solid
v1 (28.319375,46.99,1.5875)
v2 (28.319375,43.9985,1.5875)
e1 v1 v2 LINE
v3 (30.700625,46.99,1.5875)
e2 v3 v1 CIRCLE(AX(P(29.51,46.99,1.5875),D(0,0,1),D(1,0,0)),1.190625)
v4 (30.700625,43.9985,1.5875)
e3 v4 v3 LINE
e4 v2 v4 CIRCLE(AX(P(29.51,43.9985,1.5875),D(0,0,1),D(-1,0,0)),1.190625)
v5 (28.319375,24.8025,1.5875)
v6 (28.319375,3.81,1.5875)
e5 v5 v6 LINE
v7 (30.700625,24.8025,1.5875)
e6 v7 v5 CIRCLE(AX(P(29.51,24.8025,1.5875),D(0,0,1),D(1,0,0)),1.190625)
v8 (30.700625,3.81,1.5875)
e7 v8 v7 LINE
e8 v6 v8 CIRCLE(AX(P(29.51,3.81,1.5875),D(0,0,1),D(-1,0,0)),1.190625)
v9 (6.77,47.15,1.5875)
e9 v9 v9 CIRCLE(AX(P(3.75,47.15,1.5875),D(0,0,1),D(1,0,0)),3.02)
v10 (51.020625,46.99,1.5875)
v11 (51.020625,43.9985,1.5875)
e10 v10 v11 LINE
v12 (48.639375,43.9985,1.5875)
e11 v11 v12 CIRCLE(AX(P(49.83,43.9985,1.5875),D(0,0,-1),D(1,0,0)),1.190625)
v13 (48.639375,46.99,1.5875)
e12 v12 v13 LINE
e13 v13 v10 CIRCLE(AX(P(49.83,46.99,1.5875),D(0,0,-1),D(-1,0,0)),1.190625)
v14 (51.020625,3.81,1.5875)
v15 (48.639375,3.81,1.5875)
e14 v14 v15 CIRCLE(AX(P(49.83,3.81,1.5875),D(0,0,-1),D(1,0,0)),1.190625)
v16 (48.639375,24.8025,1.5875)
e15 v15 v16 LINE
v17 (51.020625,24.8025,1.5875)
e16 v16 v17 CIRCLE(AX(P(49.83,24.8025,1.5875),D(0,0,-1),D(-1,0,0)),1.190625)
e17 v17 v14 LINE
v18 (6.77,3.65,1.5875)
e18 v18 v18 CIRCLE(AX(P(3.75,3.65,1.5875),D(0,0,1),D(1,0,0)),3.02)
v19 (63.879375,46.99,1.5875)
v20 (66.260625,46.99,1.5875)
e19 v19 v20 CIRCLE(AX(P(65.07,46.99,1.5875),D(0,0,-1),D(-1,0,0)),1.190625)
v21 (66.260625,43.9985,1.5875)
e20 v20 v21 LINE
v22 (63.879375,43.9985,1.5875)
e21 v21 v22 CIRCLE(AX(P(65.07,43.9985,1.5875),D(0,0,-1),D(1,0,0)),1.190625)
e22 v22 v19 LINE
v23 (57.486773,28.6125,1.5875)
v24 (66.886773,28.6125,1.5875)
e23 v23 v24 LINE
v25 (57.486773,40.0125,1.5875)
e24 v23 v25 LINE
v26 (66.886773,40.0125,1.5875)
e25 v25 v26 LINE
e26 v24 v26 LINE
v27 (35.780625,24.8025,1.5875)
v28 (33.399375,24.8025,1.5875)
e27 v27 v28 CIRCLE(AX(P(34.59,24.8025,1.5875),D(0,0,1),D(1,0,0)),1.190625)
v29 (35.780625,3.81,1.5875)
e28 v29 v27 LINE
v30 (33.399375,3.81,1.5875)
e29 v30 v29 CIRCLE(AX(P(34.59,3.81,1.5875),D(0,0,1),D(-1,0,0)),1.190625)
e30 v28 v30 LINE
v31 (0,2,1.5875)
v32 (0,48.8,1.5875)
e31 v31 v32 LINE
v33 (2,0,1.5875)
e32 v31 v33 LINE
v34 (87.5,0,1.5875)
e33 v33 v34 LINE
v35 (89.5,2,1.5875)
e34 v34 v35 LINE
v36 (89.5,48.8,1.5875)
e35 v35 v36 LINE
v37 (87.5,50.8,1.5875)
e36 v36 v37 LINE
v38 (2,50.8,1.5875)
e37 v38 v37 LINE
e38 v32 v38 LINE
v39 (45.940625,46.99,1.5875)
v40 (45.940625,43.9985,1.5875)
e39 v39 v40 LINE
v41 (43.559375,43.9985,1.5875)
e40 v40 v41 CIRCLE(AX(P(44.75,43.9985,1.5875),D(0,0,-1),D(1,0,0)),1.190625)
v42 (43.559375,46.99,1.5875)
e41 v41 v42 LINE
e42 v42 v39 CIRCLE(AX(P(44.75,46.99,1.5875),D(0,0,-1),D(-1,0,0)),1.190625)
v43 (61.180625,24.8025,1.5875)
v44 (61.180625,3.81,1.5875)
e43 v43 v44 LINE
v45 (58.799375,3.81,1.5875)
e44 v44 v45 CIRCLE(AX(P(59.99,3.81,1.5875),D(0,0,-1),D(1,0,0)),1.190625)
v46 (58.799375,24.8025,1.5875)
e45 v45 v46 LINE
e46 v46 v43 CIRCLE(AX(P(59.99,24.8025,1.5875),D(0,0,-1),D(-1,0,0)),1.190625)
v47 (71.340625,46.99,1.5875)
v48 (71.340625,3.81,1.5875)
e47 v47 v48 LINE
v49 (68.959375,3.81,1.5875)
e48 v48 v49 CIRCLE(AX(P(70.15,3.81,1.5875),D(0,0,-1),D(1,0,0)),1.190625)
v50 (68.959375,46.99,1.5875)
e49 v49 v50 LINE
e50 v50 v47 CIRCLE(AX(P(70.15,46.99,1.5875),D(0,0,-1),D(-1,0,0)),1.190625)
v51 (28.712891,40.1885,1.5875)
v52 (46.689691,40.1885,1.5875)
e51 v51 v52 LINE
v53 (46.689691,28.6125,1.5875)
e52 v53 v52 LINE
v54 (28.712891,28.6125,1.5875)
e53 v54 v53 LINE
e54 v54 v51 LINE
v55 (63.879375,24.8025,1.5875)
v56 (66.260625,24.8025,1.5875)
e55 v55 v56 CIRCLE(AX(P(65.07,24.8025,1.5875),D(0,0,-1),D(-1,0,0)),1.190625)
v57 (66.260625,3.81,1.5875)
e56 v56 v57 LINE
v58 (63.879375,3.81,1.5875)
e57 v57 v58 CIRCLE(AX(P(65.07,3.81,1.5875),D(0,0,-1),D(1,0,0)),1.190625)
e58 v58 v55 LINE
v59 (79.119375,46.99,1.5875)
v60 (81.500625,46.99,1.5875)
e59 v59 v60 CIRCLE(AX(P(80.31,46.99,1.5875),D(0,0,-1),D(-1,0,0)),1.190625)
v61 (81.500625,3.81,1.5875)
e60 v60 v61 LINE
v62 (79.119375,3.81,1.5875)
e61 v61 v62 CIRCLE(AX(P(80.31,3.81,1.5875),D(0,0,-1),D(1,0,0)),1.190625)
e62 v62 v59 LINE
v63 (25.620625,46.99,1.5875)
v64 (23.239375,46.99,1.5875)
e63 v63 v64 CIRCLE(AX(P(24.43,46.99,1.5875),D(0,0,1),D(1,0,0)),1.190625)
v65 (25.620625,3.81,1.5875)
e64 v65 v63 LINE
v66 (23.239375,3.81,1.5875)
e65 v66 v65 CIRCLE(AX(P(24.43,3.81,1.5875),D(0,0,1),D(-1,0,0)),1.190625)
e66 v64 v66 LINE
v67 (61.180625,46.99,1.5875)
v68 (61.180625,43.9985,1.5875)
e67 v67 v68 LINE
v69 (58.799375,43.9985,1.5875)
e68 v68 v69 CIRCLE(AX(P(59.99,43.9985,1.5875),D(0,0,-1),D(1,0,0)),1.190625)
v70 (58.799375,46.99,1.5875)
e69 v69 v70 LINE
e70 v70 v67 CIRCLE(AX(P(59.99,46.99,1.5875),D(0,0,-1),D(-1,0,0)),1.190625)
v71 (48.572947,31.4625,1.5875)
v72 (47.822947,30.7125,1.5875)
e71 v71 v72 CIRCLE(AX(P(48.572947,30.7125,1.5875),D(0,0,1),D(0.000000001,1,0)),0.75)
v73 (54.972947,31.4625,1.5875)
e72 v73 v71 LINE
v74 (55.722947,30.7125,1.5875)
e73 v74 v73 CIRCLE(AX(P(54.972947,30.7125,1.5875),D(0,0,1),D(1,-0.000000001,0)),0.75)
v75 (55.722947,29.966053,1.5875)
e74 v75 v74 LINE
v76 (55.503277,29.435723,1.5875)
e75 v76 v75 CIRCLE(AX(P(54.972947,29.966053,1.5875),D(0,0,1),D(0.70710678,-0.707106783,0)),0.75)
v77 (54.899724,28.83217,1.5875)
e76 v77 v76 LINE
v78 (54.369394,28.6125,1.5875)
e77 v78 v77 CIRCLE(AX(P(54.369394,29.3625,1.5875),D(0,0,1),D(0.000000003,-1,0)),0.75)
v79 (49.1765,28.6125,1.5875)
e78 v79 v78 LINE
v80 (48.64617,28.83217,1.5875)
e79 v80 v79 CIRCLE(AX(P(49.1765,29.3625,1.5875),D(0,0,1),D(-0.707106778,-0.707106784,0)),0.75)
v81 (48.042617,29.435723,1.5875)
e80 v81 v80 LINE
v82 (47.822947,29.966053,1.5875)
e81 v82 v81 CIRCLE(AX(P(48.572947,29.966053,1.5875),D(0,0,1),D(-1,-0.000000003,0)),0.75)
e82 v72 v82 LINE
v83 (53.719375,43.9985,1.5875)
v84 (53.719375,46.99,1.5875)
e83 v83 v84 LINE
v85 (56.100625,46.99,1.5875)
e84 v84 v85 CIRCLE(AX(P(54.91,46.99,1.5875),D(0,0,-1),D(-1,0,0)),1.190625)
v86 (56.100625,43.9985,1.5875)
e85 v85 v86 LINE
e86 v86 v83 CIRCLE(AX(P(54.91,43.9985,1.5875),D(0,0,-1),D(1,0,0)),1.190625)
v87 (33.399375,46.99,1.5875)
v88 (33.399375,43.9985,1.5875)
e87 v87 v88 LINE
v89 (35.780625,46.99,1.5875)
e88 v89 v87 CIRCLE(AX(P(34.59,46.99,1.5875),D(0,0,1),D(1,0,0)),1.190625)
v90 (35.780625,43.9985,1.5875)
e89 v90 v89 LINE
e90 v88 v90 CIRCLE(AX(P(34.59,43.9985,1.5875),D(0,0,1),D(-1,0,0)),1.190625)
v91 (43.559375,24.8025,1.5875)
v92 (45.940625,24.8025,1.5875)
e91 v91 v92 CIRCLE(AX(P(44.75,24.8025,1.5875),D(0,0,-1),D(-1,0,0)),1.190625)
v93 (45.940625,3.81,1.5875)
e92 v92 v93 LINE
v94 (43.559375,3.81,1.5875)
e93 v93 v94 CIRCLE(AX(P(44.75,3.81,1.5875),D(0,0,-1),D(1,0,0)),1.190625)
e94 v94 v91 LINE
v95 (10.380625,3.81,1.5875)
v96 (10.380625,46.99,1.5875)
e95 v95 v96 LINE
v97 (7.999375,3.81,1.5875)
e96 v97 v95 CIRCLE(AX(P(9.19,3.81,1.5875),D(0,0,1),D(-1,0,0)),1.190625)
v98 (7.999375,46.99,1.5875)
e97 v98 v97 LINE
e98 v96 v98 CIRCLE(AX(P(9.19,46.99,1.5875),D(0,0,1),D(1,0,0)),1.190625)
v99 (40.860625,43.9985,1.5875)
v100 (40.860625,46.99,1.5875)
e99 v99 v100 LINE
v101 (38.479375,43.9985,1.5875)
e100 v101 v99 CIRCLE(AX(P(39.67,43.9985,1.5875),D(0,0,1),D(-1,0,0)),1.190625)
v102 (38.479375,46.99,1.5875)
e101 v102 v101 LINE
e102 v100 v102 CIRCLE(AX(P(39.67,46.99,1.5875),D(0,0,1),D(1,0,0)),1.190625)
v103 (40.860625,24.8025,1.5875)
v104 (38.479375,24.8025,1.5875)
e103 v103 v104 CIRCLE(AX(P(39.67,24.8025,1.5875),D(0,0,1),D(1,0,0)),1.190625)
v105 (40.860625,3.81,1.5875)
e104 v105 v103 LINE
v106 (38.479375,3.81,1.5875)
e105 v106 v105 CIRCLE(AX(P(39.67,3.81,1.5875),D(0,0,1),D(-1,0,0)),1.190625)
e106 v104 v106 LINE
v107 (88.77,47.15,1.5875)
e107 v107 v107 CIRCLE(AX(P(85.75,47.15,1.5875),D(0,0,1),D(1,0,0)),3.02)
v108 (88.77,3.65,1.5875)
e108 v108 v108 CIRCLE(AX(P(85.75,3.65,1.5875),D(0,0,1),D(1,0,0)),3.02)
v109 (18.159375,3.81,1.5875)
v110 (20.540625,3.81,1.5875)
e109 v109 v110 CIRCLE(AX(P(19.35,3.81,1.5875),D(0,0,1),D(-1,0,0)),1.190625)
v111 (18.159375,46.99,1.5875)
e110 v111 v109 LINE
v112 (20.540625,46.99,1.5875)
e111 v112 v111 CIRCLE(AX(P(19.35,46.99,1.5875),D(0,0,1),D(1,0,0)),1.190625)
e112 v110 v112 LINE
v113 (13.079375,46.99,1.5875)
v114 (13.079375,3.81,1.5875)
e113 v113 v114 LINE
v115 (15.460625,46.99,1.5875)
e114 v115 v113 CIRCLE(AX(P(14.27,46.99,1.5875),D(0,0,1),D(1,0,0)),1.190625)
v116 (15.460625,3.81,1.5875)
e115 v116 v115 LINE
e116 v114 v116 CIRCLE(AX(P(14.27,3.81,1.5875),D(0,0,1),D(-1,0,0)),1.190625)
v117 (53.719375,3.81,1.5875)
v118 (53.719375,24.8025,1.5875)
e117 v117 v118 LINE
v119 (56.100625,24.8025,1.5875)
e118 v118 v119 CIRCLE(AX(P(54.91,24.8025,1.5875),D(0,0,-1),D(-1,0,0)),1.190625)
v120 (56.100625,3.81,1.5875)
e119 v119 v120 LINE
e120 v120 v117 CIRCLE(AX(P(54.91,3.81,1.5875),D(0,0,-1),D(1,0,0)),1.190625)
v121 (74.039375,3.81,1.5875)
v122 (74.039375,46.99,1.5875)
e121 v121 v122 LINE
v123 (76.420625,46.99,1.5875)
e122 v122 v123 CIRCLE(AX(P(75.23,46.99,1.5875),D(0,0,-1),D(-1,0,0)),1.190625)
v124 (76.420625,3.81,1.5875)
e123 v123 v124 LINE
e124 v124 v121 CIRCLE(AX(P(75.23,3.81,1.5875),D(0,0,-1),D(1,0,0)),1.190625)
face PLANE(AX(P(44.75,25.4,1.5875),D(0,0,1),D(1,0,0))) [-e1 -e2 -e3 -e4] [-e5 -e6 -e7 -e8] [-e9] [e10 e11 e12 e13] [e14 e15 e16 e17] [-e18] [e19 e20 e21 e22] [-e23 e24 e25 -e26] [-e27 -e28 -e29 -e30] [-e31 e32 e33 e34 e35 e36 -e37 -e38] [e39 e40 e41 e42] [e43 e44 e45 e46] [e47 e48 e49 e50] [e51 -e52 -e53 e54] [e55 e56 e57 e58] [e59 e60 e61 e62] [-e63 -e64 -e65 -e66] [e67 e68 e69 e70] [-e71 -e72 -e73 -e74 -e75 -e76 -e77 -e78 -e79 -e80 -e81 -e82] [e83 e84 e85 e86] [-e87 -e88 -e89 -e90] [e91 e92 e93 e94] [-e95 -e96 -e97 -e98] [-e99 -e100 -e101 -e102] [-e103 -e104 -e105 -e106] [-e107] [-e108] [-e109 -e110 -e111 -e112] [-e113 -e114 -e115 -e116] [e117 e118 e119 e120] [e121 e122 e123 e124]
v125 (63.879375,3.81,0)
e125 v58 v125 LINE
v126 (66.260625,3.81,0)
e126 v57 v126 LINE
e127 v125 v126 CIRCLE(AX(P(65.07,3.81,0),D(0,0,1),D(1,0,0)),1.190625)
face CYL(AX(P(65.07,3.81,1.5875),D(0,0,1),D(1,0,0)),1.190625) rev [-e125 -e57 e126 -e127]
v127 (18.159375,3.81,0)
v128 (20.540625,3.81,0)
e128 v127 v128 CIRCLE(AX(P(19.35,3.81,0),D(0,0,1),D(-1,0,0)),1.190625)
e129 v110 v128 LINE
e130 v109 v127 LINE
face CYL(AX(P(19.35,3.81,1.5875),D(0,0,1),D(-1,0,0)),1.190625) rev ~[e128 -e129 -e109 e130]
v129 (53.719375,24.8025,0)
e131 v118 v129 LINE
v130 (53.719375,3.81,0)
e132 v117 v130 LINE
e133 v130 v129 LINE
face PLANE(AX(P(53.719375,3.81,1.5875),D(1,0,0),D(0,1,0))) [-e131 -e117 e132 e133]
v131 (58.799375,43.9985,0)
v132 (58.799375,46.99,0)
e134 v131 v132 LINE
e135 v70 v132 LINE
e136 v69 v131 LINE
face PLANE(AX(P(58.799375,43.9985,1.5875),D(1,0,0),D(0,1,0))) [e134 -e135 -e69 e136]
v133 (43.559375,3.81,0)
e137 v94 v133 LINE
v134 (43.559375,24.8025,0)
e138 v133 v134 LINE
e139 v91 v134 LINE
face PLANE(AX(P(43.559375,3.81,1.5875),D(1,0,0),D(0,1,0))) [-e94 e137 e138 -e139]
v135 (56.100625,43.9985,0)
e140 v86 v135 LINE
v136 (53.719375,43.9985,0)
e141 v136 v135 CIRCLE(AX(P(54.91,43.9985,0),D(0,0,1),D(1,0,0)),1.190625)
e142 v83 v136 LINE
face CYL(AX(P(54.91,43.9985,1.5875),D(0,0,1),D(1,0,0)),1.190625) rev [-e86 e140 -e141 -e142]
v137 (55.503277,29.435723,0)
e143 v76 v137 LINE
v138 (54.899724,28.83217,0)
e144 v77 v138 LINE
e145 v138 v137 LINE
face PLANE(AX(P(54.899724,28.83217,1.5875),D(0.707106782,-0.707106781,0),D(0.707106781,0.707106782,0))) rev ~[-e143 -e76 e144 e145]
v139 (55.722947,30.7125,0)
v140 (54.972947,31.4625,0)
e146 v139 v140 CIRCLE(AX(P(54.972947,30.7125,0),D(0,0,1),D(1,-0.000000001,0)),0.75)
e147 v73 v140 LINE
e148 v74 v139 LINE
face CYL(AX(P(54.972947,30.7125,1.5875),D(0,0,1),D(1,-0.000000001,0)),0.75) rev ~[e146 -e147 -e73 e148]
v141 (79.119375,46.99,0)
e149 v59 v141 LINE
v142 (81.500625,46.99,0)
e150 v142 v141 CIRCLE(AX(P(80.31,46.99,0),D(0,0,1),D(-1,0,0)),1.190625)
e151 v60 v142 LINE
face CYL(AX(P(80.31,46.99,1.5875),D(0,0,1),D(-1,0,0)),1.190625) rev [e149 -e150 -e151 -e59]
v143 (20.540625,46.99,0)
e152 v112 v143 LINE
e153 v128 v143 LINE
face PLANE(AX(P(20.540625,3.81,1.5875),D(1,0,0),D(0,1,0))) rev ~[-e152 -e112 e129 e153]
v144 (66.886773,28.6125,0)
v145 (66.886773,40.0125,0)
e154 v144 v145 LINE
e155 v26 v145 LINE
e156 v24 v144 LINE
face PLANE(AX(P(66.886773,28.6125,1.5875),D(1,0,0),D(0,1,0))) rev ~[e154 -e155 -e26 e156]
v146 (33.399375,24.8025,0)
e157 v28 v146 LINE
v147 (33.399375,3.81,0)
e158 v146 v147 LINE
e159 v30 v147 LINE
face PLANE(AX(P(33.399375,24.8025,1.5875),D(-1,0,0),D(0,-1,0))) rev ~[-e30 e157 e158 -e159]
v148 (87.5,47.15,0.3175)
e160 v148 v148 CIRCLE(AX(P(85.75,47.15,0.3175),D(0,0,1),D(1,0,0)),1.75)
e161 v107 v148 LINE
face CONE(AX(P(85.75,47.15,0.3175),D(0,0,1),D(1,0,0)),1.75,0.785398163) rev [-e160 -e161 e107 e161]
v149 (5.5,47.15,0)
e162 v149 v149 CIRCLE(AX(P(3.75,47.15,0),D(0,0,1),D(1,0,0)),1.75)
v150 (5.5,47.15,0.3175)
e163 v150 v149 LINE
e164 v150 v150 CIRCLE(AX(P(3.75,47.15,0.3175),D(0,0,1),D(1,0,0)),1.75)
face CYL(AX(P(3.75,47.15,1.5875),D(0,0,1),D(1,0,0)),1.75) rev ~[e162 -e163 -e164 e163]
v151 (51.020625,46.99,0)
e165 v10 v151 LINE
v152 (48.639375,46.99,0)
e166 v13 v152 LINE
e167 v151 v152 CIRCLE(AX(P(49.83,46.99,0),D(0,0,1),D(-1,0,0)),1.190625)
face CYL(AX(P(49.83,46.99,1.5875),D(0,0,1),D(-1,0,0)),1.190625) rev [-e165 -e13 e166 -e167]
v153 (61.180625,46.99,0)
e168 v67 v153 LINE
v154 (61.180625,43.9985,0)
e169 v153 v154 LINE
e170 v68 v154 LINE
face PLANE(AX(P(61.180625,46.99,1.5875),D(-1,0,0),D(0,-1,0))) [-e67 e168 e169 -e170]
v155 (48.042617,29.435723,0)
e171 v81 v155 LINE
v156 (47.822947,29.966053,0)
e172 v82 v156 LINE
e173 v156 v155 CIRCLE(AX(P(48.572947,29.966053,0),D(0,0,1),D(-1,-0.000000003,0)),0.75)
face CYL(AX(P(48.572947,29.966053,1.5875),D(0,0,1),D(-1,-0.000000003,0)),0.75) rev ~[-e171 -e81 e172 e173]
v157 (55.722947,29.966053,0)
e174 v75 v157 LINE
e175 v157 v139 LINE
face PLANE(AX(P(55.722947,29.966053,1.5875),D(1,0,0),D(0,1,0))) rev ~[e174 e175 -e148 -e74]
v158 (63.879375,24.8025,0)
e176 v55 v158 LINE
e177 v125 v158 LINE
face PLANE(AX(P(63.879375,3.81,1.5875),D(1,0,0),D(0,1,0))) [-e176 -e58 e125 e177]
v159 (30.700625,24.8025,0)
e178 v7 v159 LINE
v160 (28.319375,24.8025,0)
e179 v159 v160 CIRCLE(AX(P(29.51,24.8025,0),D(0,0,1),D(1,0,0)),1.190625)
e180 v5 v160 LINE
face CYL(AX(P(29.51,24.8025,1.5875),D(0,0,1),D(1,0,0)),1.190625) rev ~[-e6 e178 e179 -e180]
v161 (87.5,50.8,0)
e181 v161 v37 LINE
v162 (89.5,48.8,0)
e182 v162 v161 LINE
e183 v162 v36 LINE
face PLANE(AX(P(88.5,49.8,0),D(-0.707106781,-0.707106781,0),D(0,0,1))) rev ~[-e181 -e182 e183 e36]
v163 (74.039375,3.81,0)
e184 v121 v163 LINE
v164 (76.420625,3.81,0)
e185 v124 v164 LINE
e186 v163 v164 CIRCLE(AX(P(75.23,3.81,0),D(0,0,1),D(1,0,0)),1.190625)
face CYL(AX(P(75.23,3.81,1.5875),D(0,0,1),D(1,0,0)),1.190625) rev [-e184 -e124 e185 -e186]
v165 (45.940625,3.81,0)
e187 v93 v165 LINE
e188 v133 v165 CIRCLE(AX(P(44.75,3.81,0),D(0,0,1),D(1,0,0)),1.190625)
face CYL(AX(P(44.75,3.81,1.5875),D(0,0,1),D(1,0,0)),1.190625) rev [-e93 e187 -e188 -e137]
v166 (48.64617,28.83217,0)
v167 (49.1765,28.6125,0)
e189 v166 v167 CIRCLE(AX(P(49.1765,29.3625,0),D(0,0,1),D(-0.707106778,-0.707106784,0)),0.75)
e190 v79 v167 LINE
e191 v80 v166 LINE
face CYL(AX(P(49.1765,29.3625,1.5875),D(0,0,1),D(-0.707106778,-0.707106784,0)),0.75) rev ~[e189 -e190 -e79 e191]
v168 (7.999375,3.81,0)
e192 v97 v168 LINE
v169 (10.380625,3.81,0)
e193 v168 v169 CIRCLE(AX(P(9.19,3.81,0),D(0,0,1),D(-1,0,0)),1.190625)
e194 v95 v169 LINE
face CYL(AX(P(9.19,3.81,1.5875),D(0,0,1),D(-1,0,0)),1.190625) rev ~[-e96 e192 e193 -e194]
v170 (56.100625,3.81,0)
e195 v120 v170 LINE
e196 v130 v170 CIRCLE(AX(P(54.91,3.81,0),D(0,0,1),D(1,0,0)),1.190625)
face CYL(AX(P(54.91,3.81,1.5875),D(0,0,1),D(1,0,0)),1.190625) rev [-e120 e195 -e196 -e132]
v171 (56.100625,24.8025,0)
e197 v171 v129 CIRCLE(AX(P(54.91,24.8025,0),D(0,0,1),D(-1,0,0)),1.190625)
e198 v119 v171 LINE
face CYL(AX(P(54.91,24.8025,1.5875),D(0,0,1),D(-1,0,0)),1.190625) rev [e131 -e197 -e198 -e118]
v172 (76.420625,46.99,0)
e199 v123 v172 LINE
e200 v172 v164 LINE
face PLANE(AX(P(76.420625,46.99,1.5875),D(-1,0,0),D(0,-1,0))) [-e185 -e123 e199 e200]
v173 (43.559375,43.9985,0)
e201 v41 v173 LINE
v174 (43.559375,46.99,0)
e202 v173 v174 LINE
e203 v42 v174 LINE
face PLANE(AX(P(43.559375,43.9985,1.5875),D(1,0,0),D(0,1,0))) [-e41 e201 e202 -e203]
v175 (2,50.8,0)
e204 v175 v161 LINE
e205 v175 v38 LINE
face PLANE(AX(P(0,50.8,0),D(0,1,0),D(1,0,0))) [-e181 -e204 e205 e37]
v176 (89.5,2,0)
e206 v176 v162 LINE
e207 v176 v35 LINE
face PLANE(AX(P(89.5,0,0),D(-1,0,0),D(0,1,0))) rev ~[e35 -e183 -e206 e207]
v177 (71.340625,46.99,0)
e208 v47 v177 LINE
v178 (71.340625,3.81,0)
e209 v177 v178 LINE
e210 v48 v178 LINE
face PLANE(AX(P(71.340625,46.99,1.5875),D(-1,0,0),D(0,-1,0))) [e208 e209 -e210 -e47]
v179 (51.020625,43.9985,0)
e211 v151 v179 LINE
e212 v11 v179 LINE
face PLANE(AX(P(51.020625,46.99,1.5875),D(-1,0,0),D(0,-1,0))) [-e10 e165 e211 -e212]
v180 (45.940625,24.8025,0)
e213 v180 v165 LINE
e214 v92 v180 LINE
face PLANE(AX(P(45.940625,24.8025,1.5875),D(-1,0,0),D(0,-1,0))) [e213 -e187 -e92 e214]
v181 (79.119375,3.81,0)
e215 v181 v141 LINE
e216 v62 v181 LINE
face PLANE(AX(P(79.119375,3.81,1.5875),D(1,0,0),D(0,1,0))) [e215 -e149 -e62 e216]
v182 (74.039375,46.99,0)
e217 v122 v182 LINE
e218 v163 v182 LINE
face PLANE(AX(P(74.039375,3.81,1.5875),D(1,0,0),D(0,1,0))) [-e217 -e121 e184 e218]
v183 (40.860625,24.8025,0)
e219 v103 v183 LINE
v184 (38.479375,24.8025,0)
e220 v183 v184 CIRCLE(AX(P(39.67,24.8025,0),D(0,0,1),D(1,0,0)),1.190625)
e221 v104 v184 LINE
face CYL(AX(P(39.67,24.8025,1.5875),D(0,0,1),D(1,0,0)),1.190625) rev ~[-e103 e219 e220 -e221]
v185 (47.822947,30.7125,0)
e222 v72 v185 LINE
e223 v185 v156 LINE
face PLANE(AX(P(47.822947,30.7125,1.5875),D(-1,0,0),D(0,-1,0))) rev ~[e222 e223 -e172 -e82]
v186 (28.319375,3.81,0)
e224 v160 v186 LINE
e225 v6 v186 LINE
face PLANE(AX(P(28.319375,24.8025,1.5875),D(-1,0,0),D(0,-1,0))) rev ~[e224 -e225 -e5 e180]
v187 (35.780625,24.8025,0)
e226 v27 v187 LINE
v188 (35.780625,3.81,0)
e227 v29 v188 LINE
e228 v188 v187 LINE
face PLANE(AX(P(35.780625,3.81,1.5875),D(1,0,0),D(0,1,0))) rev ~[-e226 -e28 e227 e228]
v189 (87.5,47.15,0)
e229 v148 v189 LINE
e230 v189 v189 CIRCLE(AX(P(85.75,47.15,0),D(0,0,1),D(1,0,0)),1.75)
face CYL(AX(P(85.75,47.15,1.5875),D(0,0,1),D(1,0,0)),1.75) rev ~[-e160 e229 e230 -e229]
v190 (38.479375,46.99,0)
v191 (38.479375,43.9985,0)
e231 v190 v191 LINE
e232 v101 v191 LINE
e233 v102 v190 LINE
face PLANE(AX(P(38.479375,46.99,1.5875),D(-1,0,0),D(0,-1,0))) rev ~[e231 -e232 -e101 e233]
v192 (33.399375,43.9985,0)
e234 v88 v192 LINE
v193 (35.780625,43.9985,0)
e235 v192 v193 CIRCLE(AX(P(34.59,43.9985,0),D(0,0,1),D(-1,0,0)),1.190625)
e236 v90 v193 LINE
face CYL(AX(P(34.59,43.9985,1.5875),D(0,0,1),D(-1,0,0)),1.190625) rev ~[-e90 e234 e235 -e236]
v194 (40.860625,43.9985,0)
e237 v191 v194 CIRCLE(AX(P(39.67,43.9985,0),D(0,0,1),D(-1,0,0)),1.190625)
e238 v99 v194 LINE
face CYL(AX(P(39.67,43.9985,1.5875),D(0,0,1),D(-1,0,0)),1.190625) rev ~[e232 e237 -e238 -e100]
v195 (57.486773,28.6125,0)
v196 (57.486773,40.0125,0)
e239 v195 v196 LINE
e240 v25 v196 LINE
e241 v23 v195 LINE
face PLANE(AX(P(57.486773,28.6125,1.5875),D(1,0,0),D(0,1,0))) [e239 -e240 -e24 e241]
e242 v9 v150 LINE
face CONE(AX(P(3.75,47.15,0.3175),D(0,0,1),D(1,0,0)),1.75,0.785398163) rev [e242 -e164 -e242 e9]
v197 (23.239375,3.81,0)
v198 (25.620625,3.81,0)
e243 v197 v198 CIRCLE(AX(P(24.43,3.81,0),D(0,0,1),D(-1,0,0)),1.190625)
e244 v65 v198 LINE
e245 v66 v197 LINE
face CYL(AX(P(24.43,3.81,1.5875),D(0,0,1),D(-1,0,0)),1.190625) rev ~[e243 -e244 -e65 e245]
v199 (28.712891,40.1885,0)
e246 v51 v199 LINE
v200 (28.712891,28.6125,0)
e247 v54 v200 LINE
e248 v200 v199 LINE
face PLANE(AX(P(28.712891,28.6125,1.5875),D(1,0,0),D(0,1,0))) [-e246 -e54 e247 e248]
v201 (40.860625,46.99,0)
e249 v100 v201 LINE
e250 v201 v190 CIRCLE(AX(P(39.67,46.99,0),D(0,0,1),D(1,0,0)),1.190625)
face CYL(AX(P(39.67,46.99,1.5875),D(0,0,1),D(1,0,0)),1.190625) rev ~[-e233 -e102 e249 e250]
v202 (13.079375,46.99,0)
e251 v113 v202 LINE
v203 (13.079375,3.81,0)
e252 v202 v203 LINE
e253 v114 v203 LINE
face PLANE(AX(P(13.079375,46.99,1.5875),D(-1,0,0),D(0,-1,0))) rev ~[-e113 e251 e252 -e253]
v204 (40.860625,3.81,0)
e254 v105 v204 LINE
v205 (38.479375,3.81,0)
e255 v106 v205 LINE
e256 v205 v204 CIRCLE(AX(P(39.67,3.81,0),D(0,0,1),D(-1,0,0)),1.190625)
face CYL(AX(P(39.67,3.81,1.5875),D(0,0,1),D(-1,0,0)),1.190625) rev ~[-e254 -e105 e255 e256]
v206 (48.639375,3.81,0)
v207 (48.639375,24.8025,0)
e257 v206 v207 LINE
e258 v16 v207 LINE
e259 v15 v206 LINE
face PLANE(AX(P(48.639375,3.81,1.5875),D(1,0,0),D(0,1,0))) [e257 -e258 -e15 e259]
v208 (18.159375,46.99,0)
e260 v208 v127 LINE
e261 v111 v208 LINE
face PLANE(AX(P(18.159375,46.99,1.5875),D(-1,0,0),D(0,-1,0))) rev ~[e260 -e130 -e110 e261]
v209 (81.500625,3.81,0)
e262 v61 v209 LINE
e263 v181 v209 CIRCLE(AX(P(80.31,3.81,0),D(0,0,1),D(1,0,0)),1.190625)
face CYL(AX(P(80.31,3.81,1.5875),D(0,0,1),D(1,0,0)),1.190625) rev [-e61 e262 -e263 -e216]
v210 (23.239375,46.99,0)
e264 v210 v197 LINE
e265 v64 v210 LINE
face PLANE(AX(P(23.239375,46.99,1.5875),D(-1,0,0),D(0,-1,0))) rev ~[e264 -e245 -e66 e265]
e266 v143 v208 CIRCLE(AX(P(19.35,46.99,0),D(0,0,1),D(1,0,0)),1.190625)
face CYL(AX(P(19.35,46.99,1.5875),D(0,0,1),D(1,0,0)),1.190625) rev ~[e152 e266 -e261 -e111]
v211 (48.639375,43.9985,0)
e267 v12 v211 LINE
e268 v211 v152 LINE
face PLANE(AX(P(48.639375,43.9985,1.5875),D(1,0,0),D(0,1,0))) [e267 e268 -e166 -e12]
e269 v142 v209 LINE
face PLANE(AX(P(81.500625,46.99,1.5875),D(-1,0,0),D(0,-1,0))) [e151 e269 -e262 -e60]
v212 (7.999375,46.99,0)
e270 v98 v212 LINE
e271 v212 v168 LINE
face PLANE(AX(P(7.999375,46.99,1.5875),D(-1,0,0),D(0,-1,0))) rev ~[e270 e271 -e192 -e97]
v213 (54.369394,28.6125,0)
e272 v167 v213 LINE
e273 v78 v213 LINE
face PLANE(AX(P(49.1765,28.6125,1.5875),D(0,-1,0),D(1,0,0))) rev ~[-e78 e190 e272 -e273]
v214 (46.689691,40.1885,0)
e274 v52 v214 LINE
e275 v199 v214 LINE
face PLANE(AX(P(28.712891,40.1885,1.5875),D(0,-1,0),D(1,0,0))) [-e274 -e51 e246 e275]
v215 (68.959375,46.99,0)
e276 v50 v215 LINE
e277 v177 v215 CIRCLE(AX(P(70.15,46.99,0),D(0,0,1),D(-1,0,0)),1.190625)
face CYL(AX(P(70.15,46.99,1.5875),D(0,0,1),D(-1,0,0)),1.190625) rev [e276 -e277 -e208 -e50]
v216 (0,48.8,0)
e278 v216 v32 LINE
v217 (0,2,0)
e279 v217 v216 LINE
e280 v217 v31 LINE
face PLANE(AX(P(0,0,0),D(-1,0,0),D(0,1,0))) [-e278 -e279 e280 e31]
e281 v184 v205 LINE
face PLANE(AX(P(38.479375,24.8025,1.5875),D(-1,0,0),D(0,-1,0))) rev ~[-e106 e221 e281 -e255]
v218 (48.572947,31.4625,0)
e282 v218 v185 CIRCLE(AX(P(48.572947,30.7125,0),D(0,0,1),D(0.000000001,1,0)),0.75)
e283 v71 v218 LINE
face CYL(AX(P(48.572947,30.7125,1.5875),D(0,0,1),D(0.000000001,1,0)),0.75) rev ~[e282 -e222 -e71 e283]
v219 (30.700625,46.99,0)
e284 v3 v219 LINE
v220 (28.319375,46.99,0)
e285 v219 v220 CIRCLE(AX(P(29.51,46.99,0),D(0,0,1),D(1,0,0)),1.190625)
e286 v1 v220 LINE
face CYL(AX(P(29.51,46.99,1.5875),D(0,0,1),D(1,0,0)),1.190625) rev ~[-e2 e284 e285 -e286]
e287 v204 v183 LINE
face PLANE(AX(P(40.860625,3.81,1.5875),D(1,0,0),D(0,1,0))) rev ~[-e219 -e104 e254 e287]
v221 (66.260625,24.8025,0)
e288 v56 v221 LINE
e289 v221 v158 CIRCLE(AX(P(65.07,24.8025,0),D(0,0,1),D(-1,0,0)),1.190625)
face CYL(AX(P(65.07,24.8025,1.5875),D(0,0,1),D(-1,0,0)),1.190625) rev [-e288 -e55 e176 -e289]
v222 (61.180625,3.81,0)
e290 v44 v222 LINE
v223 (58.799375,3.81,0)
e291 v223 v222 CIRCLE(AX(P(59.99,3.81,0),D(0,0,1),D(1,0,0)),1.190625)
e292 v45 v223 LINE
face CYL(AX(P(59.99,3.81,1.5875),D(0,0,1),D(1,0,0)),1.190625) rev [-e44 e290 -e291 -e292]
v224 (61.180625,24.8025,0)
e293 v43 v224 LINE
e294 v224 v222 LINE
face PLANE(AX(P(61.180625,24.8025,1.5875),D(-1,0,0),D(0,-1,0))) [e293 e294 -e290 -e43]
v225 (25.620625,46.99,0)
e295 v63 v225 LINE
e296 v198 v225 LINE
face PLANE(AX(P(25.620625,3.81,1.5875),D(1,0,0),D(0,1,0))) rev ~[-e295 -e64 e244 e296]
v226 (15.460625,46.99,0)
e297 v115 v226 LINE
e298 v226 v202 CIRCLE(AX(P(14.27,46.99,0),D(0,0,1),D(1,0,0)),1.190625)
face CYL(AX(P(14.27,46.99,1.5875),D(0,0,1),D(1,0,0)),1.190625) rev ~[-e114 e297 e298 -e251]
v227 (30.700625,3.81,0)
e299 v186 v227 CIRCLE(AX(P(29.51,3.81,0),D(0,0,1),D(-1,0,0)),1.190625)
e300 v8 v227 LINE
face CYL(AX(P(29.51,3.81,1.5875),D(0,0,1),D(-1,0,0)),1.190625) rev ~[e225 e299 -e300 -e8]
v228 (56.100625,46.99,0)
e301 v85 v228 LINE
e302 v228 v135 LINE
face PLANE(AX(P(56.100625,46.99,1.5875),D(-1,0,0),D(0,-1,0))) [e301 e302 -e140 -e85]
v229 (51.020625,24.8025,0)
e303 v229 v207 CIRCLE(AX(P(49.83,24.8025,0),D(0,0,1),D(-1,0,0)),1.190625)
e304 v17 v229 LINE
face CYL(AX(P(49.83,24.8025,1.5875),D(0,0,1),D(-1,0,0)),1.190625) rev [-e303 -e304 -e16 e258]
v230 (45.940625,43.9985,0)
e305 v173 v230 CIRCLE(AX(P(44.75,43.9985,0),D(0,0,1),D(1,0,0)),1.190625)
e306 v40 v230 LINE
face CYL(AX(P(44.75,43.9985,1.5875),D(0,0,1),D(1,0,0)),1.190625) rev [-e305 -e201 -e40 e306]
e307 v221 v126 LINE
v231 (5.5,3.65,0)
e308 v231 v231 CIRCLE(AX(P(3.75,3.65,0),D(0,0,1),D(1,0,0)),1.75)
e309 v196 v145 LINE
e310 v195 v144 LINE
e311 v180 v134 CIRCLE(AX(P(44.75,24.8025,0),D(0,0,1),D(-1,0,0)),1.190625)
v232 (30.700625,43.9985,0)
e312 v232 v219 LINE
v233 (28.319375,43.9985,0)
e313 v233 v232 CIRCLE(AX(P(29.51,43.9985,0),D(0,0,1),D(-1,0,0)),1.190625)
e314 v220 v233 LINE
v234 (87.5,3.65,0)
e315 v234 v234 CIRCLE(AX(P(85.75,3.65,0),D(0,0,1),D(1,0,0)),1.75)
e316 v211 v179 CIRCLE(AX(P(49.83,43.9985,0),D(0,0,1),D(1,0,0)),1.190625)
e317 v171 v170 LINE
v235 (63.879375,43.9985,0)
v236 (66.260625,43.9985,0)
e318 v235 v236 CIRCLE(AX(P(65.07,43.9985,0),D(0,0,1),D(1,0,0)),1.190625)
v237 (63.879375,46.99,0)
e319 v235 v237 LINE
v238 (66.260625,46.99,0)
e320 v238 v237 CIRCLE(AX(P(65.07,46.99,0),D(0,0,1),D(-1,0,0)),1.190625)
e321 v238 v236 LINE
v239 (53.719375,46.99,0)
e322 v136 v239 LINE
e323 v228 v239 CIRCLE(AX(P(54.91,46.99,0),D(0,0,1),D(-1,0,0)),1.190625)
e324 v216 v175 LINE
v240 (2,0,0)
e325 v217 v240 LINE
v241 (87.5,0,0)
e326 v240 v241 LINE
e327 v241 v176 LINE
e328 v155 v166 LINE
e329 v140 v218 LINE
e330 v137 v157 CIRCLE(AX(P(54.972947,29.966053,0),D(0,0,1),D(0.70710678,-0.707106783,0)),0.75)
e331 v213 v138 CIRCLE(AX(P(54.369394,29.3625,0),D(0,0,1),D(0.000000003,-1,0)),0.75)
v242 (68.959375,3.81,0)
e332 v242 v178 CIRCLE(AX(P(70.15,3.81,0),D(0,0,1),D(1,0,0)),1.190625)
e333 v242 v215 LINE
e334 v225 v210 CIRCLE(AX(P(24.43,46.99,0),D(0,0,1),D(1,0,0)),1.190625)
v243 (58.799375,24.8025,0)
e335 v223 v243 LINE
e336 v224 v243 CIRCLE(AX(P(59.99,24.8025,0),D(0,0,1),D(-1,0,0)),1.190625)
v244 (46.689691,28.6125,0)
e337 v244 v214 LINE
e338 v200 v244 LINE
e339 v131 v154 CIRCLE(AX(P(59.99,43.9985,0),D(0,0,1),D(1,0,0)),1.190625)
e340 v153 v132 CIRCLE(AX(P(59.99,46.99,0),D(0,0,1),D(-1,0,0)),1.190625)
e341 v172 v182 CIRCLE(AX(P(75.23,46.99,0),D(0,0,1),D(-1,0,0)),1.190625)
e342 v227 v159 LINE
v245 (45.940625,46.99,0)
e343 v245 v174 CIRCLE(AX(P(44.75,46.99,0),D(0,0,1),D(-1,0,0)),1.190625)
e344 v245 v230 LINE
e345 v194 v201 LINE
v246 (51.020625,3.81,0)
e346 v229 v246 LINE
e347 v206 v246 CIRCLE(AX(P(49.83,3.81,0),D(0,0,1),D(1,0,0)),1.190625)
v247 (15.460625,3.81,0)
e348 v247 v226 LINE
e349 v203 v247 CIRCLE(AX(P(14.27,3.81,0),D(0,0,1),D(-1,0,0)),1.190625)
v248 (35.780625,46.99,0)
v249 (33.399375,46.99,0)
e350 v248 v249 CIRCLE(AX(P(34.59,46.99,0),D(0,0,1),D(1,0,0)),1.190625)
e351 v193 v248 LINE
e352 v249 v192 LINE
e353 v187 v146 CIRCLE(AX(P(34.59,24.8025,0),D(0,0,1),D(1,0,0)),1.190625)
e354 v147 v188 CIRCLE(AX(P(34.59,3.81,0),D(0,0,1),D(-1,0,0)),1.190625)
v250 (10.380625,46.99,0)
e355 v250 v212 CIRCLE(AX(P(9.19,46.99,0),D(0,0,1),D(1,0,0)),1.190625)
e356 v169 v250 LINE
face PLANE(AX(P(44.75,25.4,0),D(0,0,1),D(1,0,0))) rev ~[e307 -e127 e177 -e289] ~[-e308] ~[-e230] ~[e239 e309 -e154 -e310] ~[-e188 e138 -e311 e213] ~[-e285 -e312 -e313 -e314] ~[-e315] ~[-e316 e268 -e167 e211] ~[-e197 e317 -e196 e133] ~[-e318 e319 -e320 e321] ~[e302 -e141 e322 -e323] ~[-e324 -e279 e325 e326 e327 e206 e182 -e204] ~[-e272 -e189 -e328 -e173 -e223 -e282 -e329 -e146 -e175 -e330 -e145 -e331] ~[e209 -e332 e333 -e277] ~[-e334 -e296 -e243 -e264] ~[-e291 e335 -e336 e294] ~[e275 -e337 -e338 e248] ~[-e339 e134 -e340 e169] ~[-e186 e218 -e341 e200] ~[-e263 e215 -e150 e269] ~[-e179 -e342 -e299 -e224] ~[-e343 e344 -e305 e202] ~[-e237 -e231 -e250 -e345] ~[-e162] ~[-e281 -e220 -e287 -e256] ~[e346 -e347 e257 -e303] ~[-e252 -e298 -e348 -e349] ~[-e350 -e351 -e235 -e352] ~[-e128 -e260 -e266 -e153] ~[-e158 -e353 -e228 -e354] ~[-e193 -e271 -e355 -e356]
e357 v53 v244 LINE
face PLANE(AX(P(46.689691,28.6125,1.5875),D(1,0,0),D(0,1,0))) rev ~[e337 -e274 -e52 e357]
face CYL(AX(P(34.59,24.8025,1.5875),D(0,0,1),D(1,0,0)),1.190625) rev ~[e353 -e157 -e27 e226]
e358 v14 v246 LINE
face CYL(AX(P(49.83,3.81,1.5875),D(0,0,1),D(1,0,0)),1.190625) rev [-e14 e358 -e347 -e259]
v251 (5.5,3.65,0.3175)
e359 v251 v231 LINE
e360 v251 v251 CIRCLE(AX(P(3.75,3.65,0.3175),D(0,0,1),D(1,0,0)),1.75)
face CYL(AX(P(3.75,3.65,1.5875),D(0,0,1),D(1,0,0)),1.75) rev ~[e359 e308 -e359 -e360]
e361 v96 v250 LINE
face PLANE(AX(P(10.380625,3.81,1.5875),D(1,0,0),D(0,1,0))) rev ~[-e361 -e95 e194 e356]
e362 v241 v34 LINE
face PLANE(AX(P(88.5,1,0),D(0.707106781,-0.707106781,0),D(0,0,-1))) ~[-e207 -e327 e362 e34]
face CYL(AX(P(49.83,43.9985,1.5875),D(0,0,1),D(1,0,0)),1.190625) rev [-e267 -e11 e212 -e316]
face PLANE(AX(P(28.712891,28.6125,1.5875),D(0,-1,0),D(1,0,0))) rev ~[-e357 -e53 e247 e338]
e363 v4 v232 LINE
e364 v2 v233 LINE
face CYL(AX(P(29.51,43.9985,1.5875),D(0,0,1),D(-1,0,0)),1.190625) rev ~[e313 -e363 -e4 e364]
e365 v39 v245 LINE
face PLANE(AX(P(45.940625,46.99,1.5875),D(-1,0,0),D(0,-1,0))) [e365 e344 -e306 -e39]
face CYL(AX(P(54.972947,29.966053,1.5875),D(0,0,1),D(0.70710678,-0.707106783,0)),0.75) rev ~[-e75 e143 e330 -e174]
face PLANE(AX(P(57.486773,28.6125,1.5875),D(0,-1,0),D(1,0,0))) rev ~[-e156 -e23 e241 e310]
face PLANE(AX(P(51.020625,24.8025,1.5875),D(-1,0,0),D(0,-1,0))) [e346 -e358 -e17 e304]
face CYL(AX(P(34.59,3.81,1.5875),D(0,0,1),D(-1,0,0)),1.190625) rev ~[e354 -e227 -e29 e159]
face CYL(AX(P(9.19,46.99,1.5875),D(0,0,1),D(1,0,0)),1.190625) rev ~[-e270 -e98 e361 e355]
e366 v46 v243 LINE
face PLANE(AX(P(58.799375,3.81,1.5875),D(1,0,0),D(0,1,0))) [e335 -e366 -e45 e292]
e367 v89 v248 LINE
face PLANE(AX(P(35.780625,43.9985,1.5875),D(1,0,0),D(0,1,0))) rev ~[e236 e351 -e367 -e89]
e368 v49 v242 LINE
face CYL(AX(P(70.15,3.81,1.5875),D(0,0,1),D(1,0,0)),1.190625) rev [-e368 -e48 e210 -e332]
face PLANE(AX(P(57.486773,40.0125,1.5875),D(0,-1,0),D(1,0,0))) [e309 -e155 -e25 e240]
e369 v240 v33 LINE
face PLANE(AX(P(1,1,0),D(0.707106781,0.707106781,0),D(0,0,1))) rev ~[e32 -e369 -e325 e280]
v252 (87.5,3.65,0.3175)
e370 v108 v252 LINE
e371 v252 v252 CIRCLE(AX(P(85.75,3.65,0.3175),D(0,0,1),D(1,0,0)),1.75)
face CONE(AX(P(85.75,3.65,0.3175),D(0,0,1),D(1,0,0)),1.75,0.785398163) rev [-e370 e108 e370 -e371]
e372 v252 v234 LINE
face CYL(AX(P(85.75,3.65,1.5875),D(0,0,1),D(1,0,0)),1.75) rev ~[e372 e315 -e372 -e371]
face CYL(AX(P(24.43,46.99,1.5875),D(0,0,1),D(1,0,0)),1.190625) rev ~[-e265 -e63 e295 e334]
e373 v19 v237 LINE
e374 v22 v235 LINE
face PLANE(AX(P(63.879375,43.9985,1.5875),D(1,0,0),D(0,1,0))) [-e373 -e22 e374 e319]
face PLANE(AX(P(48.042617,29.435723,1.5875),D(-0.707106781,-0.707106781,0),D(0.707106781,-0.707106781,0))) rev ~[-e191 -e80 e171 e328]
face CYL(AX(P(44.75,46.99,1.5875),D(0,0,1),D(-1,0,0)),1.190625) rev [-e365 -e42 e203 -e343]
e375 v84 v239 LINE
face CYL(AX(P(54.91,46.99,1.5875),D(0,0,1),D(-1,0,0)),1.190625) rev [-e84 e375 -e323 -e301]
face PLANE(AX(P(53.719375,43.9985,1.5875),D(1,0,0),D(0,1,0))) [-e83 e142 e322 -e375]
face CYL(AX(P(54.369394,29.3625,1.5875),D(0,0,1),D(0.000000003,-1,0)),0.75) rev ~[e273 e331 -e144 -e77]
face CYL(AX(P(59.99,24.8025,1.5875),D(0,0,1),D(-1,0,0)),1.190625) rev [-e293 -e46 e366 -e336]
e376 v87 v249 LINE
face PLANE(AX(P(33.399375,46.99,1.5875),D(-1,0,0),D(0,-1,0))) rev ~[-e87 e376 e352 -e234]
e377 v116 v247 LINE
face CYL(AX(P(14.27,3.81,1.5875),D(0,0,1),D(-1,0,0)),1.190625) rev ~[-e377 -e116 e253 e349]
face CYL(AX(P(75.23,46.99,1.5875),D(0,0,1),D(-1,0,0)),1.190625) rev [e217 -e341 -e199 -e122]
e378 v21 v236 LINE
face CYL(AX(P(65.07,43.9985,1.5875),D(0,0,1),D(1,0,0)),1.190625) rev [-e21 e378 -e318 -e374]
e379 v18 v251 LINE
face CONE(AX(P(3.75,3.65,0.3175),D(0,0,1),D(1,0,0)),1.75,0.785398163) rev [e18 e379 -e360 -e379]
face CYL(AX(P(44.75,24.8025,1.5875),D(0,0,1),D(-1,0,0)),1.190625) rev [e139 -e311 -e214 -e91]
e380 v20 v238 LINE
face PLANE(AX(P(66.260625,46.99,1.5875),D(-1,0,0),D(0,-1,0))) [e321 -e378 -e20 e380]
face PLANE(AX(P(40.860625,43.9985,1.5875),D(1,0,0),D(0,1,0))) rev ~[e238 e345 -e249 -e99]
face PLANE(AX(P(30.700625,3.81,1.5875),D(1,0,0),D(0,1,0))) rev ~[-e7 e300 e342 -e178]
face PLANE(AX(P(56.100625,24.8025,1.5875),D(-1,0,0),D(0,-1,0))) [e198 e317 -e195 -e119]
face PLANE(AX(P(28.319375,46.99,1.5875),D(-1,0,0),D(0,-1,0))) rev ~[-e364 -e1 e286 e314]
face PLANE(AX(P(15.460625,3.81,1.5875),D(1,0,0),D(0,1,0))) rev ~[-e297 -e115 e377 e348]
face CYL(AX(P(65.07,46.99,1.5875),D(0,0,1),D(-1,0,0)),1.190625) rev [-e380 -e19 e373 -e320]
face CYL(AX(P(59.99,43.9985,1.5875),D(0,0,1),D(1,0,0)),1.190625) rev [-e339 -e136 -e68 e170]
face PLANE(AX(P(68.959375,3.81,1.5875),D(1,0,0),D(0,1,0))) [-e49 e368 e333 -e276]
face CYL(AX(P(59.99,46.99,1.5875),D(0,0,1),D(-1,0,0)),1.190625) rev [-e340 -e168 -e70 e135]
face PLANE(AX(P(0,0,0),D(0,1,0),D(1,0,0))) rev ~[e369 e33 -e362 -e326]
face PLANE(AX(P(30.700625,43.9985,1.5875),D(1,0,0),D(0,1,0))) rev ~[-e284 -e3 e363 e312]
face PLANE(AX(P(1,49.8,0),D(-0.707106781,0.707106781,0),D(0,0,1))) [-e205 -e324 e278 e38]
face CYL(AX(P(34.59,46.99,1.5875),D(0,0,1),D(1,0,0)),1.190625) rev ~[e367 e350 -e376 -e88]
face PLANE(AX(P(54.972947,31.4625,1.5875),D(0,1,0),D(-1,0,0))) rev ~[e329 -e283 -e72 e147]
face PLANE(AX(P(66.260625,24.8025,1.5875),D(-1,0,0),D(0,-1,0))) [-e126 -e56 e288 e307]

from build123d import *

# Parameters (mm, degrees)
SKETCH1_W           = 89.5
SKETCH1_H           = 50.8
BOSS_EXTRUDE1_DEPTH = 1.5875
CHAMFER1_SIZE       = 2
SKETCH2_W           = 17.9768
SKETCH2_H           = 11.576
SKETCH2_W_2         = 9.4
SKETCH2_H_2         = 11.4
CUT_EXTRUDE1_DEPTH  = 2.5875
SKETCH3_R           = 1.75
CUT_EXTRUDE2_DEPTH  = 2.5875
CHAMFER2_SIZE       = 1.27
CUT_EXTRUDE3_DEPTH  = 2.5875


with BuildPart() as part:
    # Sketch1 → Boss-Extrude1 (new body)
    with BuildSketch(Plane.XY):
        with Locations((44.75, 25.4)):
            Rectangle(SKETCH1_W, SKETCH1_H)
    extrude(amount=BOSS_EXTRUDE1_DEPTH)

    # Chamfer1
    chamfer1_edges = [part.edges().sort_by_distance(p)[0] for p in [
        (0, 50.8, 0.79375),
        (89.5, 50.8, 0.79375),
        (89.5, 0, 0.79375),
        (0, 0, 0.79375),
    ]]
    chamfer(chamfer1_edges, length=CHAMFER1_SIZE)

    # Sketch2 → Cut-Extrude1 (cut, through all)
    with BuildSketch(Plane.XY.offset(1.5875)):
        with Locations((37.701291048, 34.400499876)):
            Rectangle(SKETCH2_W, SKETCH2_H)
        with Locations((62.186773048, 34.312499876)):
            Rectangle(SKETCH2_W_2, SKETCH2_H_2)
        with BuildLine():
            Line((55.722947048, 29.966053267), (55.722947048, 30.712499876))
            ThreePointArc((55.722947048, 30.712499876), (55.503277134, 31.242829962), (54.972947048, 31.462499876))
            Line((54.972947048, 31.462499876), (48.572947048, 31.462499876))
            ThreePointArc((48.572947048, 31.462499876), (48.042616962, 31.242829962), (47.822947048, 30.712499876))
            Line((47.822947048, 30.712499876), (47.822947048, 29.966053267))
            ThreePointArc((47.822947048, 29.966053267), (47.880037399, 29.679040693), (48.042616962, 29.435723181))
            Line((48.042616962, 29.435723181), (48.646170353, 28.83216979))
            ThreePointArc((48.646170353, 28.83216979), (48.889487865, 28.669590227), (49.176500439, 28.612499876))
            Line((49.176500439, 28.612499876), (54.369393658, 28.612499876))
            ThreePointArc((54.369393658, 28.612499876), (54.656406232, 28.669590227), (54.899723744, 28.83216979))
            Line((54.899723744, 28.83216979), (55.503277134, 29.435723181))
            ThreePointArc((55.503277134, 29.435723181), (55.665856698, 29.679040693), (55.722947048, 29.966053267))
        make_face()
    extrude(amount=-CUT_EXTRUDE1_DEPTH, mode=Mode.SUBTRACT)

    # Sketch3 → Cut-Extrude2 (cut, through all)
    with BuildSketch(Plane.XY.offset(1.5875)):
        with Locations((3.75, 47.15)):
            Circle(SKETCH3_R)
        with Locations((3.75, 3.65)):
            Circle(SKETCH3_R)
        with Locations((85.75, 3.65)):
            Circle(SKETCH3_R)
        with Locations((85.75, 47.15)):
            Circle(SKETCH3_R)
    extrude(amount=-CUT_EXTRUDE2_DEPTH, mode=Mode.SUBTRACT)

    # Chamfer2
    chamfer2_edges = [part.edges().sort_by_distance(p)[0] for p in [
        (2, 47.15, 1.5875),
        (2, 3.65, 1.5875),
        (84, 3.65, 1.5875),
        (84, 47.15, 1.5875),
    ]]
    chamfer(chamfer2_edges, length=CHAMFER2_SIZE)

    # Sketch4 → Cut-Extrude3 (cut, through all)
    with BuildSketch(Plane.XY.offset(1.5875)):
        with BuildLine():
            Line((71.340625, 46.99), (71.340625, 3.81))
            ThreePointArc((71.340625, 3.81), (70.15, 2.619375), (68.959375, 3.81))
            Line((68.959375, 3.81), (68.959375, 46.99))
            ThreePointArc((68.959375, 46.99), (70.15, 48.180625), (71.340625, 46.99))
        make_face()
        with BuildLine():
            Line((45.940625, 46.99), (45.940625, 43.998499876))
            ThreePointArc((45.940625, 43.998499876), (44.75, 42.807874876), (43.559375, 43.998499876))
            Line((43.559375, 43.998499876), (43.559375, 46.99))
            ThreePointArc((43.559375, 46.99), (44.75, 48.180625), (45.940625, 46.99))
        make_face()
        with BuildLine():
            Line((45.940625, 24.802499876), (45.940625, 3.81))
            ThreePointArc((45.940625, 3.81), (44.75, 2.619375), (43.559375, 3.81))
            Line((43.559375, 3.81), (43.559375, 24.802499876))
            ThreePointArc((43.559375, 24.802499876), (44.75, 25.993124876), (45.940625, 24.802499876))
        make_face()
        with BuildLine():
            Line((51.020625, 46.99), (51.020625, 43.998499876))
            ThreePointArc((51.020625, 43.998499876), (49.83, 42.807874876), (48.639375, 43.998499876))
            Line((48.639375, 43.998499876), (48.639375, 46.99))
            ThreePointArc((48.639375, 46.99), (49.83, 48.180625), (51.020625, 46.99))
        make_face()
        with BuildLine():
            Line((51.020625, 24.802499876), (51.020625, 3.81))
            ThreePointArc((51.020625, 3.81), (49.83, 2.619375), (48.639375, 3.81))
            Line((48.639375, 3.81), (48.639375, 24.802499876))
            ThreePointArc((48.639375, 24.802499876), (49.83, 25.993124876), (51.020625, 24.802499876))
        make_face()
        with BuildLine():
            Line((56.100625, 46.99), (56.100625, 43.998499876))
            ThreePointArc((56.100625, 43.998499876), (54.91, 42.807874876), (53.719375, 43.998499876))
            Line((53.719375, 43.998499876), (53.719375, 46.99))
            ThreePointArc((53.719375, 46.99), (54.91, 48.180625), (56.100625, 46.99))
        make_face()
        with BuildLine():
            Line((56.100625, 24.802499876), (56.100625, 3.81))
            ThreePointArc((56.100625, 3.81), (54.91, 2.619375), (53.719375, 3.81))
            Line((53.719375, 3.81), (53.719375, 24.802499876))
            ThreePointArc((53.719375, 24.802499876), (54.91, 25.993124876), (56.100625, 24.802499876))
        make_face()
        with BuildLine():
            Line((61.180625, 46.99), (61.180625, 43.998499876))
            ThreePointArc((61.180625, 43.998499876), (59.99, 42.807874876), (58.799375, 43.998499876))
            Line((58.799375, 43.998499876), (58.799375, 46.99))
            ThreePointArc((58.799375, 46.99), (59.99, 48.180625), (61.180625, 46.99))
        make_face()
        with BuildLine():
            Line((61.180625, 24.802499876), (61.180625, 3.81))
            ThreePointArc((61.180625, 3.81), (59.99, 2.619375), (58.799375, 3.81))
            Line((58.799375, 3.81), (58.799375, 24.802499876))
            ThreePointArc((58.799375, 24.802499876), (59.99, 25.993124876), (61.180625, 24.802499876))
        make_face()
        with BuildLine():
            Line((66.260625, 46.99), (66.260625, 43.998499876))
            ThreePointArc((66.260625, 43.998499876), (65.07, 42.807874876), (63.879375, 43.998499876))
            Line((63.879375, 43.998499876), (63.879375, 46.99))
            ThreePointArc((63.879375, 46.99), (65.07, 48.180625), (66.260625, 46.99))
        make_face()
        with BuildLine():
            Line((66.260625, 24.802499876), (66.260625, 3.81))
            ThreePointArc((66.260625, 3.81), (65.07, 2.619375), (63.879375, 3.81))
            Line((63.879375, 3.81), (63.879375, 24.802499876))
            ThreePointArc((63.879375, 24.802499876), (65.07, 25.993124876), (66.260625, 24.802499876))
        make_face()
        with BuildLine():
            Line((76.420625, 46.99), (76.420625, 3.81))
            ThreePointArc((76.420625, 3.81), (75.23, 2.619375), (74.039375, 3.81))
            Line((74.039375, 3.81), (74.039375, 46.99))
            ThreePointArc((74.039375, 46.99), (75.23, 48.180625), (76.420625, 46.99))
        make_face()
        with BuildLine():
            Line((81.500625, 46.99), (81.500625, 3.81))
            ThreePointArc((81.500625, 3.81), (80.31, 2.619375), (79.119375, 3.81))
            Line((79.119375, 3.81), (79.119375, 46.99))
            ThreePointArc((79.119375, 46.99), (80.31, 48.180625), (81.500625, 46.99))
        make_face()
        with BuildLine():
            Line((7.999375, 46.99), (7.999375, 3.81))
            ThreePointArc((7.999375, 3.81), (9.19, 2.619375), (10.380625, 3.81))
            Line((10.380625, 3.81), (10.380625, 46.99))
            ThreePointArc((10.380625, 46.99), (9.19, 48.180625), (7.999375, 46.99))
        make_face()
        with BuildLine():
            Line((13.079375, 46.99), (13.079375, 3.81))
            ThreePointArc((13.079375, 3.81), (14.27, 2.619375), (15.460625, 3.81))
            Line((15.460625, 3.81), (15.460625, 46.99))
            ThreePointArc((15.460625, 46.99), (14.27, 48.180625), (13.079375, 46.99))
        make_face()
        with BuildLine():
            Line((18.159375, 46.99), (18.159375, 3.81))
            ThreePointArc((18.159375, 3.81), (19.35, 2.619375), (20.540625, 3.81))
            Line((20.540625, 3.81), (20.540625, 46.99))
            ThreePointArc((20.540625, 46.99), (19.35, 48.180625), (18.159375, 46.99))
        make_face()
        with BuildLine():
            Line((23.239375, 46.99), (23.239375, 3.81))
            ThreePointArc((23.239375, 3.81), (24.43, 2.619375), (25.620625, 3.81))
            Line((25.620625, 3.81), (25.620625, 46.99))
            ThreePointArc((25.620625, 46.99), (24.43, 48.180625), (23.239375, 46.99))
        make_face()
        with BuildLine():
            Line((28.319375, 24.802499876), (28.319375, 3.81))
            ThreePointArc((28.319375, 3.81), (29.51, 2.619375), (30.700625, 3.81))
            Line((30.700625, 3.81), (30.700625, 24.802499876))
            ThreePointArc((30.700625, 24.802499876), (29.51, 25.993124876), (28.319375, 24.802499876))
        make_face()
        with BuildLine():
            Line((28.319375, 46.99), (28.319375, 43.998499876))
            ThreePointArc((28.319375, 43.998499876), (29.51, 42.807874876), (30.700625, 43.998499876))
            Line((30.700625, 43.998499876), (30.700625, 46.99))
            ThreePointArc((30.700625, 46.99), (29.51, 48.180625), (28.319375, 46.99))
        make_face()
        with BuildLine():
            Line((33.399375, 24.802499876), (33.399375, 3.81))
            ThreePointArc((33.399375, 3.81), (34.59, 2.619375), (35.780625, 3.81))
            Line((35.780625, 3.81), (35.780625, 24.802499876))
            ThreePointArc((35.780625, 24.802499876), (34.59, 25.993124876), (33.399375, 24.802499876))
        make_face()
        with BuildLine():
            Line((33.399375, 46.99), (33.399375, 43.998499876))
            ThreePointArc((33.399375, 43.998499876), (34.59, 42.807874876), (35.780625, 43.998499876))
            Line((35.780625, 43.998499876), (35.780625, 46.99))
            ThreePointArc((35.780625, 46.99), (34.59, 48.180625), (33.399375, 46.99))
        make_face()
        with BuildLine():
            Line((38.479375, 24.802499876), (38.479375, 3.81))
            ThreePointArc((38.479375, 3.81), (39.67, 2.619375), (40.860625, 3.81))
            Line((40.860625, 3.81), (40.860625, 24.802499876))
            ThreePointArc((40.860625, 24.802499876), (39.67, 25.993124876), (38.479375, 24.802499876))
        make_face()
        with BuildLine():
            Line((38.479375, 46.99), (38.479375, 43.998499876))
            ThreePointArc((38.479375, 43.998499876), (39.67, 42.807874876), (40.860625, 43.998499876))
            Line((40.860625, 43.998499876), (40.860625, 46.99))
            ThreePointArc((40.860625, 46.99), (39.67, 48.180625), (38.479375, 46.99))
        make_face()
    extrude(amount=-CUT_EXTRUDE3_DEPTH, mode=Mode.SUBTRACT)


solid = part.part
